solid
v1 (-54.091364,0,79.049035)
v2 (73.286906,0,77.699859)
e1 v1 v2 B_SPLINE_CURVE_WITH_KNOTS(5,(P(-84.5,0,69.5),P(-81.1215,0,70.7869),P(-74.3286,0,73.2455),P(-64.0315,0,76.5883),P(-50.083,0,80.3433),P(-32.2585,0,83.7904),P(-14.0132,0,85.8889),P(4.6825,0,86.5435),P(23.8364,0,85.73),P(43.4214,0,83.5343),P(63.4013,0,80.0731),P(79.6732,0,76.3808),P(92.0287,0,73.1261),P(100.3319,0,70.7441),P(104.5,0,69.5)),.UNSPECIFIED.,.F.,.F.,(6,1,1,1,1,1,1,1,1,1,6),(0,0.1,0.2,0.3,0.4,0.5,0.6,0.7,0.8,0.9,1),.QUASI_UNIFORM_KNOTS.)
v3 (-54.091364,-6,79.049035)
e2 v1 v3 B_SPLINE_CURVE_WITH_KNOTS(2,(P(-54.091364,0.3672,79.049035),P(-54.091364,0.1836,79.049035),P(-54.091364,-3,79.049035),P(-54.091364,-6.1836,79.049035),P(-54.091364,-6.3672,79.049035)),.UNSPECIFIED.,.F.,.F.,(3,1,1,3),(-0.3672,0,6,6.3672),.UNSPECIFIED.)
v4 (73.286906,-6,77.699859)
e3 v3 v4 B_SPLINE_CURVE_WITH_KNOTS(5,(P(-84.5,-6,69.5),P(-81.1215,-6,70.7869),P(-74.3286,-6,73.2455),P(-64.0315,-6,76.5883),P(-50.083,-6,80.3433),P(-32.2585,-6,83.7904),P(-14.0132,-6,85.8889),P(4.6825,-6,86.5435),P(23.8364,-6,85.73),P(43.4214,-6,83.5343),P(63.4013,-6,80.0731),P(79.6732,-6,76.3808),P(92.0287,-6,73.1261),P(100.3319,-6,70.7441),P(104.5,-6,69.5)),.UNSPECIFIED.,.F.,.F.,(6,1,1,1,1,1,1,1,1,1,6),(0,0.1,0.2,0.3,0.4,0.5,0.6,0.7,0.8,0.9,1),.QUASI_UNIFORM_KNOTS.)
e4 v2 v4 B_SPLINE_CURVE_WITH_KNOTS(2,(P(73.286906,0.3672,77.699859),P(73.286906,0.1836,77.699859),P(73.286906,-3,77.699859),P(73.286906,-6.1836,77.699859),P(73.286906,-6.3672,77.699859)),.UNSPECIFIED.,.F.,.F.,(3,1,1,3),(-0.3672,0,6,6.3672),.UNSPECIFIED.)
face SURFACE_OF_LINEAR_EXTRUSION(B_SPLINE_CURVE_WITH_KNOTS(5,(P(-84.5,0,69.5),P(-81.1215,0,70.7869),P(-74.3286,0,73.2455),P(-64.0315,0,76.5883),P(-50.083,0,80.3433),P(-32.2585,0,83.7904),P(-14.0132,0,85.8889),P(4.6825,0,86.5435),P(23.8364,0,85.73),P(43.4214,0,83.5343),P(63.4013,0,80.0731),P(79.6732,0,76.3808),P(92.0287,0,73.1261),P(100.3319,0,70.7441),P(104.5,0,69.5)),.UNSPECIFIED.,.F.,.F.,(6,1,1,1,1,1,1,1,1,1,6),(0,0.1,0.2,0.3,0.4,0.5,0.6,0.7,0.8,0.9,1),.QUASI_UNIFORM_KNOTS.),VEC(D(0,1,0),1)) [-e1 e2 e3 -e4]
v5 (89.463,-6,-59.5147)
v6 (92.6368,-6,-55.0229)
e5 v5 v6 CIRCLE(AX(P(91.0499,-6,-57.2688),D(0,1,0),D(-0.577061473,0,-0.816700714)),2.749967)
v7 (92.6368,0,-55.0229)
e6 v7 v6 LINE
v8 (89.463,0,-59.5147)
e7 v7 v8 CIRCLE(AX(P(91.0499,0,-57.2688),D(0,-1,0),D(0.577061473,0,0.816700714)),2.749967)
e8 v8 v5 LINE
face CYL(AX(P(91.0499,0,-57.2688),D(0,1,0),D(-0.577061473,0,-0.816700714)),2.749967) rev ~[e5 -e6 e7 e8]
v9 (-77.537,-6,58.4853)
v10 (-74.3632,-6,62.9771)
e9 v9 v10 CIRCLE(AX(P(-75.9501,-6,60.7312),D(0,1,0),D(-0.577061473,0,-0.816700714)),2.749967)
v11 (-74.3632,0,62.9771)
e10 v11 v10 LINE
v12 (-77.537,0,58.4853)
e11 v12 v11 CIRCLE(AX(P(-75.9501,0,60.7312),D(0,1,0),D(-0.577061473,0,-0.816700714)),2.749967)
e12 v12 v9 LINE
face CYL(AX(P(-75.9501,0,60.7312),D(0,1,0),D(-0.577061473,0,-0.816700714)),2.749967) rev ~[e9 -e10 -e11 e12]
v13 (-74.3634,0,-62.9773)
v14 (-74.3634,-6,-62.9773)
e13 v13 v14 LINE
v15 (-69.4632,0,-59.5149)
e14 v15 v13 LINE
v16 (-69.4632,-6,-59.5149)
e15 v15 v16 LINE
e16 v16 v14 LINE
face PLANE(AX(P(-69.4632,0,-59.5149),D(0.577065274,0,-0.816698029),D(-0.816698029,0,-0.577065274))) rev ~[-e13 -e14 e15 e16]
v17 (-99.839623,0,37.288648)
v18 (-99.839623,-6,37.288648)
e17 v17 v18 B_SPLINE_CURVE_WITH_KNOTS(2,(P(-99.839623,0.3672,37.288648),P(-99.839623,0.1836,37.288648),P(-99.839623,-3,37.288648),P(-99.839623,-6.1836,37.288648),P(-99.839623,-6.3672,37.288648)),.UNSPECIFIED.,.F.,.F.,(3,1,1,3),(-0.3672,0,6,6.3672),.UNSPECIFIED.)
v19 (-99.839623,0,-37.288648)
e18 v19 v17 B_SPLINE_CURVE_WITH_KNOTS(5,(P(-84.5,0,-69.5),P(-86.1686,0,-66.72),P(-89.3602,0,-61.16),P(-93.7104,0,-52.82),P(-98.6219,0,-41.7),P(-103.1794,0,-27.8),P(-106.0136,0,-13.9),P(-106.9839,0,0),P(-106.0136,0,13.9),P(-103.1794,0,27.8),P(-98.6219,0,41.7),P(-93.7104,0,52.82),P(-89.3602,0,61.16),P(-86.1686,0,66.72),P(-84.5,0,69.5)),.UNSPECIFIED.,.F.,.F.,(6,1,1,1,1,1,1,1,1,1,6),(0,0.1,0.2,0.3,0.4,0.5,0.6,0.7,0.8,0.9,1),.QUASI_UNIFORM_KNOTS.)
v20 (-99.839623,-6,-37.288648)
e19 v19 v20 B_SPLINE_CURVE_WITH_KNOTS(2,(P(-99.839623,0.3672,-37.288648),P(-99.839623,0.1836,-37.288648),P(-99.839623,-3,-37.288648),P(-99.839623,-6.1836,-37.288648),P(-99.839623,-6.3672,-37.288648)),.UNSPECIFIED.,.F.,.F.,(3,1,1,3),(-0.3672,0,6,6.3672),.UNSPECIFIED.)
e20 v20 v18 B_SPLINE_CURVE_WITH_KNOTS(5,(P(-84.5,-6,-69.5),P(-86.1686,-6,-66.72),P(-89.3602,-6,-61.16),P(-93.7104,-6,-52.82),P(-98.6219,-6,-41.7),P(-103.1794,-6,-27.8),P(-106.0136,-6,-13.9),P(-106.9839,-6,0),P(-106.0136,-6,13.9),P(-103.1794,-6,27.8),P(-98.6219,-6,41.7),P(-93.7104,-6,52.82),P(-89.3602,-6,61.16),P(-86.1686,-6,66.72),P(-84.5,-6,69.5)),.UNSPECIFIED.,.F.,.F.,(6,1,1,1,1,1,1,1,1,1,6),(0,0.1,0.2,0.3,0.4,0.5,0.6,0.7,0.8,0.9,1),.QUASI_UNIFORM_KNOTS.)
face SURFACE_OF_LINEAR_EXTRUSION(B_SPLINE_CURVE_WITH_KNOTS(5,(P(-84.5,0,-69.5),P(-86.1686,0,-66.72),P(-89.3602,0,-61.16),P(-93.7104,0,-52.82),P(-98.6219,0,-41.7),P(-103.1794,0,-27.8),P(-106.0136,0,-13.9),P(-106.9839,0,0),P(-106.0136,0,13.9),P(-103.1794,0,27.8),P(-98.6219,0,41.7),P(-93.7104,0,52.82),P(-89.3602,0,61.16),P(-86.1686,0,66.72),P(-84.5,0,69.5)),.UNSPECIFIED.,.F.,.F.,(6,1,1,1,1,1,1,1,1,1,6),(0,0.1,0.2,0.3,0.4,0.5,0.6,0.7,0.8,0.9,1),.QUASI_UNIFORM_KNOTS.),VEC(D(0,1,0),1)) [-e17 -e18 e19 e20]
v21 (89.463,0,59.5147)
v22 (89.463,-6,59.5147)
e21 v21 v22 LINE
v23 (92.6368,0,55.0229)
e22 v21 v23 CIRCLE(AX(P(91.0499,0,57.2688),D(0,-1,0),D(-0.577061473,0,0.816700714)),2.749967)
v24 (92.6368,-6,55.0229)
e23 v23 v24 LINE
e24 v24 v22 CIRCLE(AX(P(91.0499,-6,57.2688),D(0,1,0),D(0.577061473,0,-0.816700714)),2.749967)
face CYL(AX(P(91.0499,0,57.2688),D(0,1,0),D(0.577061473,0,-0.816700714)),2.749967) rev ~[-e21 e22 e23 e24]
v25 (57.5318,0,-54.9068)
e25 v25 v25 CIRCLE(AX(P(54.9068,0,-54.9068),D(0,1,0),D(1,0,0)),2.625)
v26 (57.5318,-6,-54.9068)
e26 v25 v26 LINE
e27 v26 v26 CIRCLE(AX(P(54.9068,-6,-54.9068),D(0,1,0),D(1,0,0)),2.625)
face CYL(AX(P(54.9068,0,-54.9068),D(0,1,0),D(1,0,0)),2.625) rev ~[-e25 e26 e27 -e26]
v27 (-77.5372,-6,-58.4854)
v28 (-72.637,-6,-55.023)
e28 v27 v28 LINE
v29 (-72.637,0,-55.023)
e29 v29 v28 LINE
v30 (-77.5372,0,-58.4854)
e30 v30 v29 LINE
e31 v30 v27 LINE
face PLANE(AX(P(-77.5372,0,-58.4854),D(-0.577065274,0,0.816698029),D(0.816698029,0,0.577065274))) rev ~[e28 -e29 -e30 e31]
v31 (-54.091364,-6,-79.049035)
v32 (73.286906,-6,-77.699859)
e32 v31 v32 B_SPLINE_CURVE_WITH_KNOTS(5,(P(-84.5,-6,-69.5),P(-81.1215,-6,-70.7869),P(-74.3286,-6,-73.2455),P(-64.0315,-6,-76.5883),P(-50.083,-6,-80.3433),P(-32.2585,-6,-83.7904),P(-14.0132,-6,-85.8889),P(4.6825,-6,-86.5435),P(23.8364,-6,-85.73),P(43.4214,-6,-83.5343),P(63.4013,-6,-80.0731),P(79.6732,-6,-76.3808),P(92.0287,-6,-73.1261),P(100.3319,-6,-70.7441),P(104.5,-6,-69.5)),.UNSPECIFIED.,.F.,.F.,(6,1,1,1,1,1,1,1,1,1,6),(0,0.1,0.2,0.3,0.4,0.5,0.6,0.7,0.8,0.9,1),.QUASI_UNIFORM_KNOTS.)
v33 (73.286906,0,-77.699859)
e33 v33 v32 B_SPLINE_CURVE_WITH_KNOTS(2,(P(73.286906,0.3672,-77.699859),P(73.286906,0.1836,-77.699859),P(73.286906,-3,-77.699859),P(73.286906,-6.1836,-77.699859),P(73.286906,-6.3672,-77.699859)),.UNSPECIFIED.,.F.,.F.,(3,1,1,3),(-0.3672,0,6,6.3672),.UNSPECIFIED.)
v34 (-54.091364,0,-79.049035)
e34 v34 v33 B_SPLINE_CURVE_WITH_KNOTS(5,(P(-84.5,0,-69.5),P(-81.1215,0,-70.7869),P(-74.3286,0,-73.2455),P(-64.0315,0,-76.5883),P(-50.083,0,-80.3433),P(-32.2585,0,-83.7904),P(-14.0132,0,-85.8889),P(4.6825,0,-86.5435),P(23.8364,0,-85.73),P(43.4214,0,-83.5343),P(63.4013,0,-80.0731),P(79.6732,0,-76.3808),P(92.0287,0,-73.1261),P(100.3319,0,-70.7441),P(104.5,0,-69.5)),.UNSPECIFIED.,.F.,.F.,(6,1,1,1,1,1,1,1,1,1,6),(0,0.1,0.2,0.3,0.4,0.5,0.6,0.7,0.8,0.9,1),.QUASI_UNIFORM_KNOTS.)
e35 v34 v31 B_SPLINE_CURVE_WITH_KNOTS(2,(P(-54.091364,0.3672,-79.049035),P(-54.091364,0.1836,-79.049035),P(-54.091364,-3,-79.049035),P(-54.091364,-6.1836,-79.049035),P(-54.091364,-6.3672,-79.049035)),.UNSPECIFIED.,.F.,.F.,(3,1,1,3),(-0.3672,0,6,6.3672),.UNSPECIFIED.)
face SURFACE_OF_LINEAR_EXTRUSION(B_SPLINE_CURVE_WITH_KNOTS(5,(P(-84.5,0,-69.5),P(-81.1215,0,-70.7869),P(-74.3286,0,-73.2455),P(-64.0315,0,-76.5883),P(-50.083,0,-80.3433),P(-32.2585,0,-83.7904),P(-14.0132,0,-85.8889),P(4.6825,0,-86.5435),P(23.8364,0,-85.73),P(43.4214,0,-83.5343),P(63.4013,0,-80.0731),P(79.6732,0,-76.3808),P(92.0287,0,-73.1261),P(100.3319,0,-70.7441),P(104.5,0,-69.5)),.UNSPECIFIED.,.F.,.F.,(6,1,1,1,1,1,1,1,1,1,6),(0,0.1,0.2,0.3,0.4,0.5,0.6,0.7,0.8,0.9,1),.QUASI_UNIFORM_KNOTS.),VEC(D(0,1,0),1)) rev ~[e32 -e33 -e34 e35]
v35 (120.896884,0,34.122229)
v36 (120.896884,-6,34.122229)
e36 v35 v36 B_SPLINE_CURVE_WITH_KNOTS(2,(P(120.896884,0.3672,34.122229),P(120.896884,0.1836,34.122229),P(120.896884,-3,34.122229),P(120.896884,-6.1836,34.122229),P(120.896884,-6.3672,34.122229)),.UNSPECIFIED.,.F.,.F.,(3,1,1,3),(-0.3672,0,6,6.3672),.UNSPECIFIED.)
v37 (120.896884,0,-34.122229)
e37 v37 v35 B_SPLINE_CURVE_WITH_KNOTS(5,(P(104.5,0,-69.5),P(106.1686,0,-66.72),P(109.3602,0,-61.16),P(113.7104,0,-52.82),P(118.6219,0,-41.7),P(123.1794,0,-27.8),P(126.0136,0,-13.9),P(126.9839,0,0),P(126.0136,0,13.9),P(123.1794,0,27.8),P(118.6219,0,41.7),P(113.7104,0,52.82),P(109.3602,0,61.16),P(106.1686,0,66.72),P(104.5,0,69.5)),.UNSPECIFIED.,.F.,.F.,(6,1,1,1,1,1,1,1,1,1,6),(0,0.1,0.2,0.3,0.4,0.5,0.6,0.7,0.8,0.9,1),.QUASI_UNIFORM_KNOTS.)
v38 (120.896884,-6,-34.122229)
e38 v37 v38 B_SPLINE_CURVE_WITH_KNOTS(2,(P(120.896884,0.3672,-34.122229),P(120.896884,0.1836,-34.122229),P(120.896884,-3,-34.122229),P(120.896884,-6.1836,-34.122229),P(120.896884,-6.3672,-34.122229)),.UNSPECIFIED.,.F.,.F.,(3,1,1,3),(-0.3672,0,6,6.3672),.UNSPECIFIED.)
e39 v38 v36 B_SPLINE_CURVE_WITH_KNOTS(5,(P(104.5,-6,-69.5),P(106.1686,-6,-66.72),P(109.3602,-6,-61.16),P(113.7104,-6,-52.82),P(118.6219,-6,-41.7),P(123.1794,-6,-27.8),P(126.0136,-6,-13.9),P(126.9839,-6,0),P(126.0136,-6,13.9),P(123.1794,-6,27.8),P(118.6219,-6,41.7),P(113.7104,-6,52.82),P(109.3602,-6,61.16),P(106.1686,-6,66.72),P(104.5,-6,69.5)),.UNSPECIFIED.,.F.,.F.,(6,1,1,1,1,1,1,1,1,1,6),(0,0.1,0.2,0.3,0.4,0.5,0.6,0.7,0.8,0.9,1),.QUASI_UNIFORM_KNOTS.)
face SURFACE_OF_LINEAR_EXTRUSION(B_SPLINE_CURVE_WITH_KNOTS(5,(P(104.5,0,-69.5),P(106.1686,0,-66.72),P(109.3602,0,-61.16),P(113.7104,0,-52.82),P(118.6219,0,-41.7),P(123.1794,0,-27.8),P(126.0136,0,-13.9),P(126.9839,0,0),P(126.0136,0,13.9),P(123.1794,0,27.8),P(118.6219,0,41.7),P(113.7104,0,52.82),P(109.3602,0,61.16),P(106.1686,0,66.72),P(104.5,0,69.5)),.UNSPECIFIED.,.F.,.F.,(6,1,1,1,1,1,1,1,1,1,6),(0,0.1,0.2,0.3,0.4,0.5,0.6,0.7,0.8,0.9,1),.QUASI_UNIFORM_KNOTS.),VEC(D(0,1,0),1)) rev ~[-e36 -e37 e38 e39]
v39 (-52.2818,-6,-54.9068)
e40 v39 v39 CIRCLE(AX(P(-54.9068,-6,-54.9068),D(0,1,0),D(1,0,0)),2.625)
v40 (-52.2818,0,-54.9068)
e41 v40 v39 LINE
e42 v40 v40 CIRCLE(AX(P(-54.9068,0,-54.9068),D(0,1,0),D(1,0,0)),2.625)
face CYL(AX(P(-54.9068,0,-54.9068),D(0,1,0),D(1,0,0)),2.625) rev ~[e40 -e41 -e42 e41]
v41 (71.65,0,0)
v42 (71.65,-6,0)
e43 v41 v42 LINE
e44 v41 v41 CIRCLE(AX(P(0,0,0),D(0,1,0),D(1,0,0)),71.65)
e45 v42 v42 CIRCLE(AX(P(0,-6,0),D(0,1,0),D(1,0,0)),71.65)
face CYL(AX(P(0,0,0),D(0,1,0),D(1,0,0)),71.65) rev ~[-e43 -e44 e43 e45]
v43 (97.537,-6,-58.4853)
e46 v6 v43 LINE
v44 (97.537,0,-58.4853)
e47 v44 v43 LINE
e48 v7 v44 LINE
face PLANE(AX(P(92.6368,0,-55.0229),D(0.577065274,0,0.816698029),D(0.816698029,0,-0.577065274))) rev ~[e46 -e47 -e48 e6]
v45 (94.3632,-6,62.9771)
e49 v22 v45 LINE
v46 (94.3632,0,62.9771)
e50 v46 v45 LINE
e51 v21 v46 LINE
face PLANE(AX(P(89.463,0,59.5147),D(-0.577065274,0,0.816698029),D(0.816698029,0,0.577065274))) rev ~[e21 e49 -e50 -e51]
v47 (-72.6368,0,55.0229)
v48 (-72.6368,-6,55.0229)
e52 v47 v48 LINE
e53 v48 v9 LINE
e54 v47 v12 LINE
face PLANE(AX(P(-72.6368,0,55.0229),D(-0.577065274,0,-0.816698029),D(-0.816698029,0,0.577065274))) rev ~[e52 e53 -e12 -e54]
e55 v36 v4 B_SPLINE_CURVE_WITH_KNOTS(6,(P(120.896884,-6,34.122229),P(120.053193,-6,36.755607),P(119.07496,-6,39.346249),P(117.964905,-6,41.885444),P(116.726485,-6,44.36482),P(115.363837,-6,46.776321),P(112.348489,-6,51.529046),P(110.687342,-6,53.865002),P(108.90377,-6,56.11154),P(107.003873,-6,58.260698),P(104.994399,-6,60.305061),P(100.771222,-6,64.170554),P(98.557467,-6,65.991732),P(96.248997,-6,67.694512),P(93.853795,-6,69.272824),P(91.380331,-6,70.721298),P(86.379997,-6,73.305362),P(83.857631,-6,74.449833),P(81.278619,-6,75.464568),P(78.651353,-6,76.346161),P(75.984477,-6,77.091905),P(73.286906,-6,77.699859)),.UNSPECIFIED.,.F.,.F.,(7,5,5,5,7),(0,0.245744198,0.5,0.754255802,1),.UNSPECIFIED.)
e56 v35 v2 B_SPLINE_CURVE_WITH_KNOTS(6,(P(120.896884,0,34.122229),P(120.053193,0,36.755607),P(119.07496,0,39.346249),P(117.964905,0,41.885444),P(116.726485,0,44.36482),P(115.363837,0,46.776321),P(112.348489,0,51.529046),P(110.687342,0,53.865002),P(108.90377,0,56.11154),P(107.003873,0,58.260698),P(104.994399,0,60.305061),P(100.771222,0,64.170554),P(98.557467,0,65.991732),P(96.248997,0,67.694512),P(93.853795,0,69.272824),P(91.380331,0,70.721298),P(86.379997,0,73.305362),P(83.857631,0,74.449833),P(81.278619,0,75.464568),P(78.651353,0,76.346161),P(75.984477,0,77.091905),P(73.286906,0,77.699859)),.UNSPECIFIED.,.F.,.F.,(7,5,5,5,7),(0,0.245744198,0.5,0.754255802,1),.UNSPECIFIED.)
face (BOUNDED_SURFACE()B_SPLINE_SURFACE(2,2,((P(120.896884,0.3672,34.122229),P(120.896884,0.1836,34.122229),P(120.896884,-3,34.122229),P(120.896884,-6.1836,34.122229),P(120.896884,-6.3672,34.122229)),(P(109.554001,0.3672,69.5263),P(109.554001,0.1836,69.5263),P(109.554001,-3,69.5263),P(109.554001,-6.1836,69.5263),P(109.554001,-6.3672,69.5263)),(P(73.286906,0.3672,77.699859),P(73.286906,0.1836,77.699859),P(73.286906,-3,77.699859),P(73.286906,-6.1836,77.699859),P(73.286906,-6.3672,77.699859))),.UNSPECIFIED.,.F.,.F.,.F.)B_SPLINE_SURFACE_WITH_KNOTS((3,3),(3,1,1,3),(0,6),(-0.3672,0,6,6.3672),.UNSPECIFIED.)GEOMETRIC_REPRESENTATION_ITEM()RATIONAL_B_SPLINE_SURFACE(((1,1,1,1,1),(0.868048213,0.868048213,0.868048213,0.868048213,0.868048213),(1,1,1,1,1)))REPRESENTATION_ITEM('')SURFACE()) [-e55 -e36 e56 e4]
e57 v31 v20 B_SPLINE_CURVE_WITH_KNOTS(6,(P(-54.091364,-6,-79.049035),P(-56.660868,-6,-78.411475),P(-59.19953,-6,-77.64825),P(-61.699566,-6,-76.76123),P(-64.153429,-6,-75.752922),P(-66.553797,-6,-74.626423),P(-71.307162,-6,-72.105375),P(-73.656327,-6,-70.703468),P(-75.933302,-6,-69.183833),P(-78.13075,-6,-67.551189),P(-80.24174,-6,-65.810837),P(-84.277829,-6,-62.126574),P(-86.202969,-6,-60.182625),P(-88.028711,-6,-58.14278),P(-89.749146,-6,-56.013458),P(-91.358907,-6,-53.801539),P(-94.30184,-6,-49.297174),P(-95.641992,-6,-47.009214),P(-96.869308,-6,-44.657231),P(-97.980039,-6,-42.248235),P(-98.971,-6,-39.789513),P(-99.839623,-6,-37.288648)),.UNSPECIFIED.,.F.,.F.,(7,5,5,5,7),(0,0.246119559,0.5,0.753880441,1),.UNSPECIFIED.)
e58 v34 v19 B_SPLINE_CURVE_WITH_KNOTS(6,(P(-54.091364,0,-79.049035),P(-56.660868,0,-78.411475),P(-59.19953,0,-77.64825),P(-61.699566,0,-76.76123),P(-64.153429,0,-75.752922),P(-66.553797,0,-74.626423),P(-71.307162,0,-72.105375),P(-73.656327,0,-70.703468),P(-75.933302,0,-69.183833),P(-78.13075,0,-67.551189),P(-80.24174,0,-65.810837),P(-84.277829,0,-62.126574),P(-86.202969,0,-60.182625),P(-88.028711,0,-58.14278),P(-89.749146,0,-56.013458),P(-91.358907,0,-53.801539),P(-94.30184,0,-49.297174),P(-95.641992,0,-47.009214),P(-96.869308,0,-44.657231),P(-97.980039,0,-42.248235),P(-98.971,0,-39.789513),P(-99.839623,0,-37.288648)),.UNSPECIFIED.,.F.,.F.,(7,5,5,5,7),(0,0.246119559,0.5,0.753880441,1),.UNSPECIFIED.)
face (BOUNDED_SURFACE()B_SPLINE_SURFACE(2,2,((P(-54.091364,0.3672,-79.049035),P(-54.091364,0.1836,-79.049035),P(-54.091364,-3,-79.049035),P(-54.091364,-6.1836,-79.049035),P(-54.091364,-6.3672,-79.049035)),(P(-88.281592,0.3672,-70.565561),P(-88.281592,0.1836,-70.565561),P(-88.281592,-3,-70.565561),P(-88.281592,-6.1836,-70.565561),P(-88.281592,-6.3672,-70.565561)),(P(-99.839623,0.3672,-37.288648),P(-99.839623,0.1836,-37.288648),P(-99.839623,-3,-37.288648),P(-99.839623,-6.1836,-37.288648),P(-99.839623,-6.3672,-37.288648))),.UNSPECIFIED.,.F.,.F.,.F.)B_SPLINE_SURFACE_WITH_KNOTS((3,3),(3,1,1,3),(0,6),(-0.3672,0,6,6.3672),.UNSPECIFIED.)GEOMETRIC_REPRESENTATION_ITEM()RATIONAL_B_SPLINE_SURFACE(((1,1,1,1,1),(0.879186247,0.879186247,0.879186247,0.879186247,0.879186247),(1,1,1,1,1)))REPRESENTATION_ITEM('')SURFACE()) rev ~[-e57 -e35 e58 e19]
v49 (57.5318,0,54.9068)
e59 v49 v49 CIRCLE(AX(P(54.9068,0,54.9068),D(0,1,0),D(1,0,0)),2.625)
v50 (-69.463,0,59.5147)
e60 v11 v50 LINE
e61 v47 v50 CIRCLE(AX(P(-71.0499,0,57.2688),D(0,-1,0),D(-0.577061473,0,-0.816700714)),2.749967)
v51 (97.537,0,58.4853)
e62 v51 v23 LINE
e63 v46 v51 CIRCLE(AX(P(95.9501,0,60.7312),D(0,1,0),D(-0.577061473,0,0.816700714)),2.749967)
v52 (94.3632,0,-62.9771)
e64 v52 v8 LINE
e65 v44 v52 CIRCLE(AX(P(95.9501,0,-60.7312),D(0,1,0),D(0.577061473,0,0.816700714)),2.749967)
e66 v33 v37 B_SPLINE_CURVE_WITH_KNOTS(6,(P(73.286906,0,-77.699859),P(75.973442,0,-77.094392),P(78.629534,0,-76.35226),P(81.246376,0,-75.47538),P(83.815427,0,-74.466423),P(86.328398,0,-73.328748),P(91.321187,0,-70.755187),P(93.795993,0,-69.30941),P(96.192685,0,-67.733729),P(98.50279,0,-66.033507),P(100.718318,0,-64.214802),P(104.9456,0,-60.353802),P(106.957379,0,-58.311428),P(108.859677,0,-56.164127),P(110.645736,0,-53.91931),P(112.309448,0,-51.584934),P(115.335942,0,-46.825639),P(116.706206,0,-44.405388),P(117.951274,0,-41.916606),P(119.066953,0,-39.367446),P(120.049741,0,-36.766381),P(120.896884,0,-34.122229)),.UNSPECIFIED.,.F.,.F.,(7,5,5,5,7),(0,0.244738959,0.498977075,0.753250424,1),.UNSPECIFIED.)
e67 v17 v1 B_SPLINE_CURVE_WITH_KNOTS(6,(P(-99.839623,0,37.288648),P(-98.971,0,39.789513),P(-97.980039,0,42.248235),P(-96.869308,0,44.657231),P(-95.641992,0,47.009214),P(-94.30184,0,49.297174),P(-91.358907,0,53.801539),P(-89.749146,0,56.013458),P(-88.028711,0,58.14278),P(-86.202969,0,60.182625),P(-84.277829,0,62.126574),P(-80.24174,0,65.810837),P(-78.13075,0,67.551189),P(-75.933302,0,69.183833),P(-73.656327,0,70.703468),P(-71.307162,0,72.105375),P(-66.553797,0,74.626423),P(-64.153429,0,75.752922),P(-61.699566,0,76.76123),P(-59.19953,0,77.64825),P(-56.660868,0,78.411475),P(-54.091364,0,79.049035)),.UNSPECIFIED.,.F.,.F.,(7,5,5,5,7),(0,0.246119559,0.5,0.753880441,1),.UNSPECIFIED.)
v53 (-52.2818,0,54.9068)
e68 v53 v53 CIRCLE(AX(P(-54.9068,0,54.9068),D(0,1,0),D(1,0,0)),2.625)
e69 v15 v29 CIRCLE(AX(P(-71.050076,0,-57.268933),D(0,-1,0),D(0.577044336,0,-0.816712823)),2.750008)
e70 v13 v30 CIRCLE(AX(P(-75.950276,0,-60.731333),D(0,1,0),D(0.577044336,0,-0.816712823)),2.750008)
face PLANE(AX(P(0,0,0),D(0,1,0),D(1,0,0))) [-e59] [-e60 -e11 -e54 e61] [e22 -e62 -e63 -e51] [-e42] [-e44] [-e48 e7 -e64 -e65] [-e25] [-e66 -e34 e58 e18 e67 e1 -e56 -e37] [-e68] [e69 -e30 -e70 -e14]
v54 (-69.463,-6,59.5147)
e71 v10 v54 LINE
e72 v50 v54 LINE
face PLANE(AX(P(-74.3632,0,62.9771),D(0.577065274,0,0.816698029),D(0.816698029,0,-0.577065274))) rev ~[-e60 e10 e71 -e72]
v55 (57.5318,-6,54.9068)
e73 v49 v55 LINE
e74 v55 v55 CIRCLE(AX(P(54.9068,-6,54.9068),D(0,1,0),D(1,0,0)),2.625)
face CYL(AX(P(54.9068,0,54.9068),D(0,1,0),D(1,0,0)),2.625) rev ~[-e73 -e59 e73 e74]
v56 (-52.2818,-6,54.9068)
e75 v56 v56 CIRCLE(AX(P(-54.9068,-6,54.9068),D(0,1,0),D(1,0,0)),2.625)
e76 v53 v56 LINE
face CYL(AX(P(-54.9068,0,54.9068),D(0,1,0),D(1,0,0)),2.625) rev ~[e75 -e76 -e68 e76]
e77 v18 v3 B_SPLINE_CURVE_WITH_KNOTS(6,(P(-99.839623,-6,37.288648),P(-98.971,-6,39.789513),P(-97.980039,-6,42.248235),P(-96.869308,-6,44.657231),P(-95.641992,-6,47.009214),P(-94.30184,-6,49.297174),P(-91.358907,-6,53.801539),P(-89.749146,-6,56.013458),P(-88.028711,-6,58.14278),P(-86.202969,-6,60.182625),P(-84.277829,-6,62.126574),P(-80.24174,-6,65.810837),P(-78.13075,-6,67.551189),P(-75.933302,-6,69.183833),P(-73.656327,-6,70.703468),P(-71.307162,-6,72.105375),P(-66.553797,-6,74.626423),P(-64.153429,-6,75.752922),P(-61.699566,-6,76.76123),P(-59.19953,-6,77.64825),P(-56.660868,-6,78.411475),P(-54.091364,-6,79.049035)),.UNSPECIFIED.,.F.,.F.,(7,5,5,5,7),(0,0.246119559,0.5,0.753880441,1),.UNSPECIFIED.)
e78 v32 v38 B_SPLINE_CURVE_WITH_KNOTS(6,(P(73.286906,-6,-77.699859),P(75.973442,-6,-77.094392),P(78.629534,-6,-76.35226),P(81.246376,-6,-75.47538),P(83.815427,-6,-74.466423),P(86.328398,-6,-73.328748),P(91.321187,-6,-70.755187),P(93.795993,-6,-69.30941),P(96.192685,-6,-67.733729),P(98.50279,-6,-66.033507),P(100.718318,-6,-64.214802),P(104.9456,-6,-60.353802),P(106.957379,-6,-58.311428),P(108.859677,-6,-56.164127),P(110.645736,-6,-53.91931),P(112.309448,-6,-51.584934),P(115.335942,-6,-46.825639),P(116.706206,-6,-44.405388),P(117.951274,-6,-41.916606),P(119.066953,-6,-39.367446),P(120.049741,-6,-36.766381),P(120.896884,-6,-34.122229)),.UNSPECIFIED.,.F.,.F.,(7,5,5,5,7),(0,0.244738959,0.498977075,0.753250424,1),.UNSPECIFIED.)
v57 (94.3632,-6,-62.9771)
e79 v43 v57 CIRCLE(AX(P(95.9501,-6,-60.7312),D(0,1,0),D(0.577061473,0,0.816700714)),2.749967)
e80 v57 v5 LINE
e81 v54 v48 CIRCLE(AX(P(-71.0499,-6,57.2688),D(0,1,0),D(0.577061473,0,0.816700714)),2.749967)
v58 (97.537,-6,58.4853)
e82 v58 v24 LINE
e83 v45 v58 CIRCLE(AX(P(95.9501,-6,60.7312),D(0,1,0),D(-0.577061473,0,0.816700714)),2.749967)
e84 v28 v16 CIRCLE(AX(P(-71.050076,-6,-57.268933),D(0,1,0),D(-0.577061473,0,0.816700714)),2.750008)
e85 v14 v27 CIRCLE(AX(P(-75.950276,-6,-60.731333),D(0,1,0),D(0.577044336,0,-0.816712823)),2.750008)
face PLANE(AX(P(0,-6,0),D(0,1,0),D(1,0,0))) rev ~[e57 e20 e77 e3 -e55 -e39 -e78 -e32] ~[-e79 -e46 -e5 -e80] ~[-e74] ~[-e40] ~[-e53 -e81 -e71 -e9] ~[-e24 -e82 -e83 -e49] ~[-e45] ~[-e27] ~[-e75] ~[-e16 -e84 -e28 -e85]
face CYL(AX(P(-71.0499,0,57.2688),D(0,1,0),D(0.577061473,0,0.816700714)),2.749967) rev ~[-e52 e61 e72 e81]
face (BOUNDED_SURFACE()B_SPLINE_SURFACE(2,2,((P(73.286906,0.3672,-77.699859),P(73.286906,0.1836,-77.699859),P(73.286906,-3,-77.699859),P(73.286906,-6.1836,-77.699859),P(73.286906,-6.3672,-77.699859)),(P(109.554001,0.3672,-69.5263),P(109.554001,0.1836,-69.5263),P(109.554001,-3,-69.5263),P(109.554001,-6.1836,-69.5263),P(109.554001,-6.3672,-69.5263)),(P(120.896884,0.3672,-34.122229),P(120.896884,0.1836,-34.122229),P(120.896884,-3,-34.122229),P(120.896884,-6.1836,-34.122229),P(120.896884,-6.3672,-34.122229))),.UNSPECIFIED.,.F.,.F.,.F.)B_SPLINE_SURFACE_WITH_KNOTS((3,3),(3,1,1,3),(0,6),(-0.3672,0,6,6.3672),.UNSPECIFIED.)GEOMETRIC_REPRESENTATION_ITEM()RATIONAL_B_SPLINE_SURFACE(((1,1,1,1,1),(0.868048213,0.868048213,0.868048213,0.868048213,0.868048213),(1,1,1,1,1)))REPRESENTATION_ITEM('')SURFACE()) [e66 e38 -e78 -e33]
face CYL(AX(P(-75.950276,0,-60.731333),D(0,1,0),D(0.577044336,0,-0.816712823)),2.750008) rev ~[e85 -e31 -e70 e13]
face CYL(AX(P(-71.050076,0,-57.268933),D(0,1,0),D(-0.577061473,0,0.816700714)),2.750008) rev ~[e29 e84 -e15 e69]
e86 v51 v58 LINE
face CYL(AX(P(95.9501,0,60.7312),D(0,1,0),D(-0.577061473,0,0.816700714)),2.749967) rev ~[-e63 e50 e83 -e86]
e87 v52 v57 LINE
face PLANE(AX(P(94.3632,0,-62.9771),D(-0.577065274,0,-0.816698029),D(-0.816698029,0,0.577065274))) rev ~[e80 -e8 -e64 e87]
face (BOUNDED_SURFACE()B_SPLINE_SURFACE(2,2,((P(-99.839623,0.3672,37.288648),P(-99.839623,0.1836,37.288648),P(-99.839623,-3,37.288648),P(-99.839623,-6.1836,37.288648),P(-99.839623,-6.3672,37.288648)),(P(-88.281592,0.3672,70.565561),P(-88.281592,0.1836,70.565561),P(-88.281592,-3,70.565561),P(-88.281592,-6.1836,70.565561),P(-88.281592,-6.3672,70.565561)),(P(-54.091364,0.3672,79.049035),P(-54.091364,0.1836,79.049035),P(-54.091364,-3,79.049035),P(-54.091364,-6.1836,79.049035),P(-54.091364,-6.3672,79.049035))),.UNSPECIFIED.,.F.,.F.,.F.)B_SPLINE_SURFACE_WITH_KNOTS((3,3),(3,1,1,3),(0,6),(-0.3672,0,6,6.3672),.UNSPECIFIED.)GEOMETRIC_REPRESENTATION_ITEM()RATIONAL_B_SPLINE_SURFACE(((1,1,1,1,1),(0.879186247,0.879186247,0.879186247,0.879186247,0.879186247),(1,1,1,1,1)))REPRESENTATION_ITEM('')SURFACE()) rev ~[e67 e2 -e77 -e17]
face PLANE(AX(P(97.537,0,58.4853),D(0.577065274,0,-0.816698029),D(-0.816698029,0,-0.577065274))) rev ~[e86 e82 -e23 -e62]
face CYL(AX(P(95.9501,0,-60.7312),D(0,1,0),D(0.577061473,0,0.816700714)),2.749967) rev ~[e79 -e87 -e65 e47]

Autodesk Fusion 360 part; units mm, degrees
sketch "Sketch1" plane through (0, 0, 0) normal (0, 1, 0) x (1, 0, 0)
  circle A0 centre (0, 0) radius 71.65
  circle A1 centre (0, 0) radius 83.65
  circle A2 centre (0, 0) radius 86.15 construction
  line L0 (0, 0) -> (10, 0) construction
  line L1 (-106.5, 0) -> (126.5, 0) construction
  line L2 (-84.5, -69.5) -> (104.5, -69.5) construction
  line L3 (104.5, -69.5) -> (104.5, 69.5) construction
  line L4 (104.5, 69.5) -> (-84.5, 69.5) construction
  line L5 (-84.5, 69.5) -> (-84.5, -69.5) construction
  line L6 (-84.5, -69.5) -> (104.5, 69.5) construction
  line L7 (104.5, -69.5) -> (-84.5, 69.5) construction
  line L8 (93.5, -59) -> (-73.5, -59) construction
  line L9 (-73.5, -59) -> (-73.5, 59) construction
  line L10 (-73.5, 59) -> (93.5, 59) construction
  line L11 (93.5, 59) -> (93.5, -59) construction
  line L12 (93.5, -59) -> (-73.5, 59) construction
  line L13 (-73.5, -59) -> (93.5, 59) construction
  line L14 (0, 86.15) -> (0, -86.15) construction
  circle A3 centre (0, 0) radius 77.65 construction
  line L15 (0, 0) -> (54.9068, -54.9068) construction
  line L16 (0, 0) -> (77.65, 0) construction
  point P0 (10, 0)
  point P1 (10, 0)
  dimension "d1" = 143.3
  dimension "d2" = 167.3
  dimension "d3" = 172.3
  dimension "d5" = 10
  dimension "d6" = 233
  dimension "d7" = 189
  dimension "d8" = 139
  dimension "d9" = 167
  dimension "d10" = 118
  dimension "d22" = 155.3
  dimension "d23" = 45
sketch "Sketch2" plane through (0, 0, 0) normal (0, 1, 0) x (1, 0, 0)
  spline S0 degree 5 poles (-84.5, 69.5) (-81.1215, 70.7869) (-74.3286, 73.2455) (-64.0315, 76.5883) (-50.083, 80.3433) (-32.2585, 83.7904) (-14.0132, 85.8889) (4.6825, 86.5435) (23.8364, 85.73) (43.4214, 83.5343) (63.4013, 80.0731) (79.6732, 76.3808) (92.0287, 73.1261) (100.3319, 70.7441) (104.5, 69.5) knots 0 0 0 0 0 0 0.1 0.2 0.3 0.4 0.5 0.6 0.7 0.8 0.9 1 1 1 1 1 1
  line L0 (104.5, 69.5) -> (-84.5, 69.5)
  spline S1 degree 5 poles (-84.5, -69.5) (-81.1215, -70.7869) (-74.3286, -73.2455) (-64.0315, -76.5883) (-50.083, -80.3433) (-32.2585, -83.7904) (-14.0132, -85.8889) (4.6825, -86.5435) (23.8364, -85.73) (43.4214, -83.5343) (63.4013, -80.0731) (79.6732, -76.3808) (92.0287, -73.1261) (100.3319, -70.7441) (104.5, -69.5) knots 0 0 0 0 0 0 0.1 0.2 0.3 0.4 0.5 0.6 0.7 0.8 0.9 1 1 1 1 1 1
  line L1 (104.5, -69.5) -> (104.5, 69.5)
  spline S2 degree 5 poles (-84.5, 69.5) (-86.1686, 66.72) (-89.3602, 61.16) (-93.7104, 52.82) (-98.6219, 41.7) (-103.1794, 27.8) (-106.0136, 13.9) (-106.9839, 0) (-106.0136, -13.9) (-103.1794, -27.8) (-98.6219, -41.7) (-93.7104, -52.82) (-89.3602, -61.16) (-86.1686, -66.72) (-84.5, -69.5) knots 0 0 0 0 0 0 0.1 0.2 0.3 0.4 0.5 0.6 0.7 0.8 0.9 1 1 1 1 1 1
  spline S3 degree 5 poles (104.5, 69.5) (106.1686, 66.72) (109.3602, 61.16) (113.7104, 52.82) (118.6219, 41.7) (123.1794, 27.8) (126.0136, 13.9) (126.9839, 0) (126.0136, -13.9) (123.1794, -27.8) (118.6219, -41.7) (113.7104, -52.82) (109.3602, -61.16) (106.1686, -66.72) (104.5, -69.5) knots 0 0 0 0 0 0 0.1 0.2 0.3 0.4 0.5 0.6 0.7 0.8 0.9 1 1 1 1 1 1
  point P0 (0, 86.15)
  point P1 (-84.5, 69.5)
  point P2 (0, 86.15)
  point P3 (104.5, 69.5)
  point P4 (0, -86.15)
  point P5 (-84.5, -69.5)
  point P6 (0, -86.15)
  point P7 (104.5, -69.5)
  point P8 (-106.5, 0)
  point P9 (-106.5, 0)
  point P10 (126.5, 0)
  point P11 (126.5, 0)
sketch "Sketch3" plane through (0, 0, 0) normal (0, 1, 0) x (1, 0, 0)
  line L0 (-77.5372, 58.4854) -> (-72.637, 55.023)
  arc A0 (-72.637, 55.023) -> (-69.4632, 59.5149) centre (-71.0501, 57.2689) ccw
  line L1 (-69.4632, 59.5149) -> (-74.3634, 62.9773)
  arc A1 (-74.3634, 62.9773) -> (-77.5372, 58.4854) centre (-75.9503, 60.7313) ccw
  line L2 (-75.9503, 60.7313) -> (-71.0501, 57.2689) construction
  line L3 (93.5, -59) -> (-73.5, 59)
  line L4 (-73.5, -59) -> (93.5, 59)
  line L5 (94.3632, 62.9771) -> (89.463, 59.5147)
  arc A2 (89.463, 59.5147) -> (92.6368, 55.0229) centre (91.0499, 57.2688) ccw
  line L6 (92.6368, 55.0229) -> (97.537, 58.4853)
  arc A3 (97.537, 58.4853) -> (94.3632, 62.9771) centre (95.9501, 60.7312) ccw
  line L7 (95.9501, 60.7312) -> (91.0499, 57.2688) construction
  line L8 (97.537, -58.4853) -> (92.6368, -55.0229)
  arc A4 (92.6368, -55.0229) -> (89.463, -59.5147) centre (91.0499, -57.2688) ccw
  line L9 (89.463, -59.5147) -> (94.3632, -62.9771)
  arc A5 (94.3632, -62.9771) -> (97.537, -58.4853) centre (95.9501, -60.7312) ccw
  line L10 (95.9501, -60.7312) -> (91.0499, -57.2688) construction
  line L11 (-74.3632, -62.9771) -> (-69.463, -59.5147)
  arc A6 (-69.463, -59.5147) -> (-72.6368, -55.0229) centre (-71.0499, -57.2688) ccw
  line L12 (-72.6368, -55.0229) -> (-77.537, -58.4853)
  arc A7 (-77.537, -58.4853) -> (-74.3632, -62.9771) centre (-75.9501, -60.7312) ccw
  line L13 (-75.9501, -60.7312) -> (-71.0499, -57.2688) construction
  line L14 (-80.541, 57.6998) -> (-72.374, 51.9291)
  arc A8 (-72.374, 51.9291) -> (-66.459, 60.3002) centre (-69.4165, 56.1147) ccw
  line L15 (-66.459, 60.3002) -> (-74.626, 66.0709)
  arc A9 (-74.626, 66.0709) -> (-80.541, 57.6998) centre (-77.5835, 61.8853) ccw
  line L16 (-77.5835, 61.8853) -> (-69.4165, 56.1147) construction
  line L17 (94.571, 66.032) -> (86.404, 60.2613)
  arc A10 (86.404, 60.2613) -> (92.3189, 51.8902) centre (89.3615, 56.0758) ccw
  line L18 (92.3189, 51.8902) -> (100.4859, 57.6609)
  arc A11 (100.4859, 57.6609) -> (94.571, 66.032) centre (97.5284, 61.8464) ccw
  line L19 (97.5284, 61.8464) -> (89.3615, 56.0758) construction
  line L20 (100.541, -57.6998) -> (92.374, -51.9291)
  arc A12 (92.374, -51.9291) -> (86.459, -60.3002) centre (89.4165, -56.1147) ccw
  line L21 (86.459, -60.3002) -> (94.626, -66.0709)
  arc A13 (94.626, -66.0709) -> (100.541, -57.6998) centre (97.5835, -61.8853) ccw
  line L22 (97.5835, -61.8853) -> (89.4165, -56.1147) construction
  line L23 (-74.626, -66.0709) -> (-66.459, -60.3002)
  arc A14 (-66.459, -60.3002) -> (-72.374, -51.9291) centre (-69.4165, -56.1147) ccw
  line L24 (-72.374, -51.9291) -> (-80.541, -57.6998)
  arc A15 (-80.541, -57.6998) -> (-74.626, -66.0709) centre (-77.5835, -61.8853) ccw
  line L25 (-77.5835, -61.8853) -> (-69.4165, -56.1147) construction
  point P0 (-73.5002, 59.0001)
  point P1 (93.5, 59)
  point P2 (93.5, -59)
  point P3 (-73.5, -59)
  point P4 (-73.5, 59)
  point P5 (93.4449, 58.9611)
  point P6 (93.5, -59)
  point P7 (-73.5, -59)
  dimension "d12" = 3
  dimension "d13" = 5.5
  dimension "d16" = 5.5
  dimension "d17" = 3
  dimension "d18" = 3
  dimension "d19" = 5.5
  dimension "d20" = 3
  dimension "d21" = 5.5
  dimension "d30" = 10.25
  dimension "d31" = 10.25
  dimension "d32" = 10.25
  dimension "d33" = 10.25
sketch "Sketch4" plane through (0, 0, 0) normal (0, 1, 0) x (1, 0, 0)
  circle A0 centre (54.9068, -54.9068) radius 2.625
  circle A1 centre (54.9068, -54.9068) radius 6
  circle A2 centre (54.9068, 54.9068) radius 2.625
  circle A3 centre (54.9068, 54.9068) radius 6
  circle A4 centre (-54.9068, 54.9068) radius 2.625
  circle A5 centre (-54.9068, 54.9068) radius 6
  circle A6 centre (-54.9068, -54.9068) radius 2.625
  circle A7 centre (-54.9068, -54.9068) radius 6
  point P0 (54.9068, -54.9068)
  dimension "d24" = 5.25
  dimension "d25" = 12
  dimension "d27" = 360
extrude "Extrude1" add sketch "Sketch2" against normal blind 6
extrude "Extrude4" cut sketch "Sketch3" sketch "Sketch4" sketch "Sketch1" along normal up to surface contours L0 A0 L1 A1 | L5 A2 L6 A3 | L8 A4 L9 A5 | L11 A6 L12 A7 of sketch 2 contours A0 | A2 | A4 | A6 of sketch 3 contours A0 end surface through (0, -6, 0) normal (0, -1, 0) offset 0
fillet "Fillet2" radius 65 4 edges at (104.5, -3, 69.5) (104.5, -3, -69.5) (-84.5, -3, 69.5) (-84.5, -3, -69.5)
